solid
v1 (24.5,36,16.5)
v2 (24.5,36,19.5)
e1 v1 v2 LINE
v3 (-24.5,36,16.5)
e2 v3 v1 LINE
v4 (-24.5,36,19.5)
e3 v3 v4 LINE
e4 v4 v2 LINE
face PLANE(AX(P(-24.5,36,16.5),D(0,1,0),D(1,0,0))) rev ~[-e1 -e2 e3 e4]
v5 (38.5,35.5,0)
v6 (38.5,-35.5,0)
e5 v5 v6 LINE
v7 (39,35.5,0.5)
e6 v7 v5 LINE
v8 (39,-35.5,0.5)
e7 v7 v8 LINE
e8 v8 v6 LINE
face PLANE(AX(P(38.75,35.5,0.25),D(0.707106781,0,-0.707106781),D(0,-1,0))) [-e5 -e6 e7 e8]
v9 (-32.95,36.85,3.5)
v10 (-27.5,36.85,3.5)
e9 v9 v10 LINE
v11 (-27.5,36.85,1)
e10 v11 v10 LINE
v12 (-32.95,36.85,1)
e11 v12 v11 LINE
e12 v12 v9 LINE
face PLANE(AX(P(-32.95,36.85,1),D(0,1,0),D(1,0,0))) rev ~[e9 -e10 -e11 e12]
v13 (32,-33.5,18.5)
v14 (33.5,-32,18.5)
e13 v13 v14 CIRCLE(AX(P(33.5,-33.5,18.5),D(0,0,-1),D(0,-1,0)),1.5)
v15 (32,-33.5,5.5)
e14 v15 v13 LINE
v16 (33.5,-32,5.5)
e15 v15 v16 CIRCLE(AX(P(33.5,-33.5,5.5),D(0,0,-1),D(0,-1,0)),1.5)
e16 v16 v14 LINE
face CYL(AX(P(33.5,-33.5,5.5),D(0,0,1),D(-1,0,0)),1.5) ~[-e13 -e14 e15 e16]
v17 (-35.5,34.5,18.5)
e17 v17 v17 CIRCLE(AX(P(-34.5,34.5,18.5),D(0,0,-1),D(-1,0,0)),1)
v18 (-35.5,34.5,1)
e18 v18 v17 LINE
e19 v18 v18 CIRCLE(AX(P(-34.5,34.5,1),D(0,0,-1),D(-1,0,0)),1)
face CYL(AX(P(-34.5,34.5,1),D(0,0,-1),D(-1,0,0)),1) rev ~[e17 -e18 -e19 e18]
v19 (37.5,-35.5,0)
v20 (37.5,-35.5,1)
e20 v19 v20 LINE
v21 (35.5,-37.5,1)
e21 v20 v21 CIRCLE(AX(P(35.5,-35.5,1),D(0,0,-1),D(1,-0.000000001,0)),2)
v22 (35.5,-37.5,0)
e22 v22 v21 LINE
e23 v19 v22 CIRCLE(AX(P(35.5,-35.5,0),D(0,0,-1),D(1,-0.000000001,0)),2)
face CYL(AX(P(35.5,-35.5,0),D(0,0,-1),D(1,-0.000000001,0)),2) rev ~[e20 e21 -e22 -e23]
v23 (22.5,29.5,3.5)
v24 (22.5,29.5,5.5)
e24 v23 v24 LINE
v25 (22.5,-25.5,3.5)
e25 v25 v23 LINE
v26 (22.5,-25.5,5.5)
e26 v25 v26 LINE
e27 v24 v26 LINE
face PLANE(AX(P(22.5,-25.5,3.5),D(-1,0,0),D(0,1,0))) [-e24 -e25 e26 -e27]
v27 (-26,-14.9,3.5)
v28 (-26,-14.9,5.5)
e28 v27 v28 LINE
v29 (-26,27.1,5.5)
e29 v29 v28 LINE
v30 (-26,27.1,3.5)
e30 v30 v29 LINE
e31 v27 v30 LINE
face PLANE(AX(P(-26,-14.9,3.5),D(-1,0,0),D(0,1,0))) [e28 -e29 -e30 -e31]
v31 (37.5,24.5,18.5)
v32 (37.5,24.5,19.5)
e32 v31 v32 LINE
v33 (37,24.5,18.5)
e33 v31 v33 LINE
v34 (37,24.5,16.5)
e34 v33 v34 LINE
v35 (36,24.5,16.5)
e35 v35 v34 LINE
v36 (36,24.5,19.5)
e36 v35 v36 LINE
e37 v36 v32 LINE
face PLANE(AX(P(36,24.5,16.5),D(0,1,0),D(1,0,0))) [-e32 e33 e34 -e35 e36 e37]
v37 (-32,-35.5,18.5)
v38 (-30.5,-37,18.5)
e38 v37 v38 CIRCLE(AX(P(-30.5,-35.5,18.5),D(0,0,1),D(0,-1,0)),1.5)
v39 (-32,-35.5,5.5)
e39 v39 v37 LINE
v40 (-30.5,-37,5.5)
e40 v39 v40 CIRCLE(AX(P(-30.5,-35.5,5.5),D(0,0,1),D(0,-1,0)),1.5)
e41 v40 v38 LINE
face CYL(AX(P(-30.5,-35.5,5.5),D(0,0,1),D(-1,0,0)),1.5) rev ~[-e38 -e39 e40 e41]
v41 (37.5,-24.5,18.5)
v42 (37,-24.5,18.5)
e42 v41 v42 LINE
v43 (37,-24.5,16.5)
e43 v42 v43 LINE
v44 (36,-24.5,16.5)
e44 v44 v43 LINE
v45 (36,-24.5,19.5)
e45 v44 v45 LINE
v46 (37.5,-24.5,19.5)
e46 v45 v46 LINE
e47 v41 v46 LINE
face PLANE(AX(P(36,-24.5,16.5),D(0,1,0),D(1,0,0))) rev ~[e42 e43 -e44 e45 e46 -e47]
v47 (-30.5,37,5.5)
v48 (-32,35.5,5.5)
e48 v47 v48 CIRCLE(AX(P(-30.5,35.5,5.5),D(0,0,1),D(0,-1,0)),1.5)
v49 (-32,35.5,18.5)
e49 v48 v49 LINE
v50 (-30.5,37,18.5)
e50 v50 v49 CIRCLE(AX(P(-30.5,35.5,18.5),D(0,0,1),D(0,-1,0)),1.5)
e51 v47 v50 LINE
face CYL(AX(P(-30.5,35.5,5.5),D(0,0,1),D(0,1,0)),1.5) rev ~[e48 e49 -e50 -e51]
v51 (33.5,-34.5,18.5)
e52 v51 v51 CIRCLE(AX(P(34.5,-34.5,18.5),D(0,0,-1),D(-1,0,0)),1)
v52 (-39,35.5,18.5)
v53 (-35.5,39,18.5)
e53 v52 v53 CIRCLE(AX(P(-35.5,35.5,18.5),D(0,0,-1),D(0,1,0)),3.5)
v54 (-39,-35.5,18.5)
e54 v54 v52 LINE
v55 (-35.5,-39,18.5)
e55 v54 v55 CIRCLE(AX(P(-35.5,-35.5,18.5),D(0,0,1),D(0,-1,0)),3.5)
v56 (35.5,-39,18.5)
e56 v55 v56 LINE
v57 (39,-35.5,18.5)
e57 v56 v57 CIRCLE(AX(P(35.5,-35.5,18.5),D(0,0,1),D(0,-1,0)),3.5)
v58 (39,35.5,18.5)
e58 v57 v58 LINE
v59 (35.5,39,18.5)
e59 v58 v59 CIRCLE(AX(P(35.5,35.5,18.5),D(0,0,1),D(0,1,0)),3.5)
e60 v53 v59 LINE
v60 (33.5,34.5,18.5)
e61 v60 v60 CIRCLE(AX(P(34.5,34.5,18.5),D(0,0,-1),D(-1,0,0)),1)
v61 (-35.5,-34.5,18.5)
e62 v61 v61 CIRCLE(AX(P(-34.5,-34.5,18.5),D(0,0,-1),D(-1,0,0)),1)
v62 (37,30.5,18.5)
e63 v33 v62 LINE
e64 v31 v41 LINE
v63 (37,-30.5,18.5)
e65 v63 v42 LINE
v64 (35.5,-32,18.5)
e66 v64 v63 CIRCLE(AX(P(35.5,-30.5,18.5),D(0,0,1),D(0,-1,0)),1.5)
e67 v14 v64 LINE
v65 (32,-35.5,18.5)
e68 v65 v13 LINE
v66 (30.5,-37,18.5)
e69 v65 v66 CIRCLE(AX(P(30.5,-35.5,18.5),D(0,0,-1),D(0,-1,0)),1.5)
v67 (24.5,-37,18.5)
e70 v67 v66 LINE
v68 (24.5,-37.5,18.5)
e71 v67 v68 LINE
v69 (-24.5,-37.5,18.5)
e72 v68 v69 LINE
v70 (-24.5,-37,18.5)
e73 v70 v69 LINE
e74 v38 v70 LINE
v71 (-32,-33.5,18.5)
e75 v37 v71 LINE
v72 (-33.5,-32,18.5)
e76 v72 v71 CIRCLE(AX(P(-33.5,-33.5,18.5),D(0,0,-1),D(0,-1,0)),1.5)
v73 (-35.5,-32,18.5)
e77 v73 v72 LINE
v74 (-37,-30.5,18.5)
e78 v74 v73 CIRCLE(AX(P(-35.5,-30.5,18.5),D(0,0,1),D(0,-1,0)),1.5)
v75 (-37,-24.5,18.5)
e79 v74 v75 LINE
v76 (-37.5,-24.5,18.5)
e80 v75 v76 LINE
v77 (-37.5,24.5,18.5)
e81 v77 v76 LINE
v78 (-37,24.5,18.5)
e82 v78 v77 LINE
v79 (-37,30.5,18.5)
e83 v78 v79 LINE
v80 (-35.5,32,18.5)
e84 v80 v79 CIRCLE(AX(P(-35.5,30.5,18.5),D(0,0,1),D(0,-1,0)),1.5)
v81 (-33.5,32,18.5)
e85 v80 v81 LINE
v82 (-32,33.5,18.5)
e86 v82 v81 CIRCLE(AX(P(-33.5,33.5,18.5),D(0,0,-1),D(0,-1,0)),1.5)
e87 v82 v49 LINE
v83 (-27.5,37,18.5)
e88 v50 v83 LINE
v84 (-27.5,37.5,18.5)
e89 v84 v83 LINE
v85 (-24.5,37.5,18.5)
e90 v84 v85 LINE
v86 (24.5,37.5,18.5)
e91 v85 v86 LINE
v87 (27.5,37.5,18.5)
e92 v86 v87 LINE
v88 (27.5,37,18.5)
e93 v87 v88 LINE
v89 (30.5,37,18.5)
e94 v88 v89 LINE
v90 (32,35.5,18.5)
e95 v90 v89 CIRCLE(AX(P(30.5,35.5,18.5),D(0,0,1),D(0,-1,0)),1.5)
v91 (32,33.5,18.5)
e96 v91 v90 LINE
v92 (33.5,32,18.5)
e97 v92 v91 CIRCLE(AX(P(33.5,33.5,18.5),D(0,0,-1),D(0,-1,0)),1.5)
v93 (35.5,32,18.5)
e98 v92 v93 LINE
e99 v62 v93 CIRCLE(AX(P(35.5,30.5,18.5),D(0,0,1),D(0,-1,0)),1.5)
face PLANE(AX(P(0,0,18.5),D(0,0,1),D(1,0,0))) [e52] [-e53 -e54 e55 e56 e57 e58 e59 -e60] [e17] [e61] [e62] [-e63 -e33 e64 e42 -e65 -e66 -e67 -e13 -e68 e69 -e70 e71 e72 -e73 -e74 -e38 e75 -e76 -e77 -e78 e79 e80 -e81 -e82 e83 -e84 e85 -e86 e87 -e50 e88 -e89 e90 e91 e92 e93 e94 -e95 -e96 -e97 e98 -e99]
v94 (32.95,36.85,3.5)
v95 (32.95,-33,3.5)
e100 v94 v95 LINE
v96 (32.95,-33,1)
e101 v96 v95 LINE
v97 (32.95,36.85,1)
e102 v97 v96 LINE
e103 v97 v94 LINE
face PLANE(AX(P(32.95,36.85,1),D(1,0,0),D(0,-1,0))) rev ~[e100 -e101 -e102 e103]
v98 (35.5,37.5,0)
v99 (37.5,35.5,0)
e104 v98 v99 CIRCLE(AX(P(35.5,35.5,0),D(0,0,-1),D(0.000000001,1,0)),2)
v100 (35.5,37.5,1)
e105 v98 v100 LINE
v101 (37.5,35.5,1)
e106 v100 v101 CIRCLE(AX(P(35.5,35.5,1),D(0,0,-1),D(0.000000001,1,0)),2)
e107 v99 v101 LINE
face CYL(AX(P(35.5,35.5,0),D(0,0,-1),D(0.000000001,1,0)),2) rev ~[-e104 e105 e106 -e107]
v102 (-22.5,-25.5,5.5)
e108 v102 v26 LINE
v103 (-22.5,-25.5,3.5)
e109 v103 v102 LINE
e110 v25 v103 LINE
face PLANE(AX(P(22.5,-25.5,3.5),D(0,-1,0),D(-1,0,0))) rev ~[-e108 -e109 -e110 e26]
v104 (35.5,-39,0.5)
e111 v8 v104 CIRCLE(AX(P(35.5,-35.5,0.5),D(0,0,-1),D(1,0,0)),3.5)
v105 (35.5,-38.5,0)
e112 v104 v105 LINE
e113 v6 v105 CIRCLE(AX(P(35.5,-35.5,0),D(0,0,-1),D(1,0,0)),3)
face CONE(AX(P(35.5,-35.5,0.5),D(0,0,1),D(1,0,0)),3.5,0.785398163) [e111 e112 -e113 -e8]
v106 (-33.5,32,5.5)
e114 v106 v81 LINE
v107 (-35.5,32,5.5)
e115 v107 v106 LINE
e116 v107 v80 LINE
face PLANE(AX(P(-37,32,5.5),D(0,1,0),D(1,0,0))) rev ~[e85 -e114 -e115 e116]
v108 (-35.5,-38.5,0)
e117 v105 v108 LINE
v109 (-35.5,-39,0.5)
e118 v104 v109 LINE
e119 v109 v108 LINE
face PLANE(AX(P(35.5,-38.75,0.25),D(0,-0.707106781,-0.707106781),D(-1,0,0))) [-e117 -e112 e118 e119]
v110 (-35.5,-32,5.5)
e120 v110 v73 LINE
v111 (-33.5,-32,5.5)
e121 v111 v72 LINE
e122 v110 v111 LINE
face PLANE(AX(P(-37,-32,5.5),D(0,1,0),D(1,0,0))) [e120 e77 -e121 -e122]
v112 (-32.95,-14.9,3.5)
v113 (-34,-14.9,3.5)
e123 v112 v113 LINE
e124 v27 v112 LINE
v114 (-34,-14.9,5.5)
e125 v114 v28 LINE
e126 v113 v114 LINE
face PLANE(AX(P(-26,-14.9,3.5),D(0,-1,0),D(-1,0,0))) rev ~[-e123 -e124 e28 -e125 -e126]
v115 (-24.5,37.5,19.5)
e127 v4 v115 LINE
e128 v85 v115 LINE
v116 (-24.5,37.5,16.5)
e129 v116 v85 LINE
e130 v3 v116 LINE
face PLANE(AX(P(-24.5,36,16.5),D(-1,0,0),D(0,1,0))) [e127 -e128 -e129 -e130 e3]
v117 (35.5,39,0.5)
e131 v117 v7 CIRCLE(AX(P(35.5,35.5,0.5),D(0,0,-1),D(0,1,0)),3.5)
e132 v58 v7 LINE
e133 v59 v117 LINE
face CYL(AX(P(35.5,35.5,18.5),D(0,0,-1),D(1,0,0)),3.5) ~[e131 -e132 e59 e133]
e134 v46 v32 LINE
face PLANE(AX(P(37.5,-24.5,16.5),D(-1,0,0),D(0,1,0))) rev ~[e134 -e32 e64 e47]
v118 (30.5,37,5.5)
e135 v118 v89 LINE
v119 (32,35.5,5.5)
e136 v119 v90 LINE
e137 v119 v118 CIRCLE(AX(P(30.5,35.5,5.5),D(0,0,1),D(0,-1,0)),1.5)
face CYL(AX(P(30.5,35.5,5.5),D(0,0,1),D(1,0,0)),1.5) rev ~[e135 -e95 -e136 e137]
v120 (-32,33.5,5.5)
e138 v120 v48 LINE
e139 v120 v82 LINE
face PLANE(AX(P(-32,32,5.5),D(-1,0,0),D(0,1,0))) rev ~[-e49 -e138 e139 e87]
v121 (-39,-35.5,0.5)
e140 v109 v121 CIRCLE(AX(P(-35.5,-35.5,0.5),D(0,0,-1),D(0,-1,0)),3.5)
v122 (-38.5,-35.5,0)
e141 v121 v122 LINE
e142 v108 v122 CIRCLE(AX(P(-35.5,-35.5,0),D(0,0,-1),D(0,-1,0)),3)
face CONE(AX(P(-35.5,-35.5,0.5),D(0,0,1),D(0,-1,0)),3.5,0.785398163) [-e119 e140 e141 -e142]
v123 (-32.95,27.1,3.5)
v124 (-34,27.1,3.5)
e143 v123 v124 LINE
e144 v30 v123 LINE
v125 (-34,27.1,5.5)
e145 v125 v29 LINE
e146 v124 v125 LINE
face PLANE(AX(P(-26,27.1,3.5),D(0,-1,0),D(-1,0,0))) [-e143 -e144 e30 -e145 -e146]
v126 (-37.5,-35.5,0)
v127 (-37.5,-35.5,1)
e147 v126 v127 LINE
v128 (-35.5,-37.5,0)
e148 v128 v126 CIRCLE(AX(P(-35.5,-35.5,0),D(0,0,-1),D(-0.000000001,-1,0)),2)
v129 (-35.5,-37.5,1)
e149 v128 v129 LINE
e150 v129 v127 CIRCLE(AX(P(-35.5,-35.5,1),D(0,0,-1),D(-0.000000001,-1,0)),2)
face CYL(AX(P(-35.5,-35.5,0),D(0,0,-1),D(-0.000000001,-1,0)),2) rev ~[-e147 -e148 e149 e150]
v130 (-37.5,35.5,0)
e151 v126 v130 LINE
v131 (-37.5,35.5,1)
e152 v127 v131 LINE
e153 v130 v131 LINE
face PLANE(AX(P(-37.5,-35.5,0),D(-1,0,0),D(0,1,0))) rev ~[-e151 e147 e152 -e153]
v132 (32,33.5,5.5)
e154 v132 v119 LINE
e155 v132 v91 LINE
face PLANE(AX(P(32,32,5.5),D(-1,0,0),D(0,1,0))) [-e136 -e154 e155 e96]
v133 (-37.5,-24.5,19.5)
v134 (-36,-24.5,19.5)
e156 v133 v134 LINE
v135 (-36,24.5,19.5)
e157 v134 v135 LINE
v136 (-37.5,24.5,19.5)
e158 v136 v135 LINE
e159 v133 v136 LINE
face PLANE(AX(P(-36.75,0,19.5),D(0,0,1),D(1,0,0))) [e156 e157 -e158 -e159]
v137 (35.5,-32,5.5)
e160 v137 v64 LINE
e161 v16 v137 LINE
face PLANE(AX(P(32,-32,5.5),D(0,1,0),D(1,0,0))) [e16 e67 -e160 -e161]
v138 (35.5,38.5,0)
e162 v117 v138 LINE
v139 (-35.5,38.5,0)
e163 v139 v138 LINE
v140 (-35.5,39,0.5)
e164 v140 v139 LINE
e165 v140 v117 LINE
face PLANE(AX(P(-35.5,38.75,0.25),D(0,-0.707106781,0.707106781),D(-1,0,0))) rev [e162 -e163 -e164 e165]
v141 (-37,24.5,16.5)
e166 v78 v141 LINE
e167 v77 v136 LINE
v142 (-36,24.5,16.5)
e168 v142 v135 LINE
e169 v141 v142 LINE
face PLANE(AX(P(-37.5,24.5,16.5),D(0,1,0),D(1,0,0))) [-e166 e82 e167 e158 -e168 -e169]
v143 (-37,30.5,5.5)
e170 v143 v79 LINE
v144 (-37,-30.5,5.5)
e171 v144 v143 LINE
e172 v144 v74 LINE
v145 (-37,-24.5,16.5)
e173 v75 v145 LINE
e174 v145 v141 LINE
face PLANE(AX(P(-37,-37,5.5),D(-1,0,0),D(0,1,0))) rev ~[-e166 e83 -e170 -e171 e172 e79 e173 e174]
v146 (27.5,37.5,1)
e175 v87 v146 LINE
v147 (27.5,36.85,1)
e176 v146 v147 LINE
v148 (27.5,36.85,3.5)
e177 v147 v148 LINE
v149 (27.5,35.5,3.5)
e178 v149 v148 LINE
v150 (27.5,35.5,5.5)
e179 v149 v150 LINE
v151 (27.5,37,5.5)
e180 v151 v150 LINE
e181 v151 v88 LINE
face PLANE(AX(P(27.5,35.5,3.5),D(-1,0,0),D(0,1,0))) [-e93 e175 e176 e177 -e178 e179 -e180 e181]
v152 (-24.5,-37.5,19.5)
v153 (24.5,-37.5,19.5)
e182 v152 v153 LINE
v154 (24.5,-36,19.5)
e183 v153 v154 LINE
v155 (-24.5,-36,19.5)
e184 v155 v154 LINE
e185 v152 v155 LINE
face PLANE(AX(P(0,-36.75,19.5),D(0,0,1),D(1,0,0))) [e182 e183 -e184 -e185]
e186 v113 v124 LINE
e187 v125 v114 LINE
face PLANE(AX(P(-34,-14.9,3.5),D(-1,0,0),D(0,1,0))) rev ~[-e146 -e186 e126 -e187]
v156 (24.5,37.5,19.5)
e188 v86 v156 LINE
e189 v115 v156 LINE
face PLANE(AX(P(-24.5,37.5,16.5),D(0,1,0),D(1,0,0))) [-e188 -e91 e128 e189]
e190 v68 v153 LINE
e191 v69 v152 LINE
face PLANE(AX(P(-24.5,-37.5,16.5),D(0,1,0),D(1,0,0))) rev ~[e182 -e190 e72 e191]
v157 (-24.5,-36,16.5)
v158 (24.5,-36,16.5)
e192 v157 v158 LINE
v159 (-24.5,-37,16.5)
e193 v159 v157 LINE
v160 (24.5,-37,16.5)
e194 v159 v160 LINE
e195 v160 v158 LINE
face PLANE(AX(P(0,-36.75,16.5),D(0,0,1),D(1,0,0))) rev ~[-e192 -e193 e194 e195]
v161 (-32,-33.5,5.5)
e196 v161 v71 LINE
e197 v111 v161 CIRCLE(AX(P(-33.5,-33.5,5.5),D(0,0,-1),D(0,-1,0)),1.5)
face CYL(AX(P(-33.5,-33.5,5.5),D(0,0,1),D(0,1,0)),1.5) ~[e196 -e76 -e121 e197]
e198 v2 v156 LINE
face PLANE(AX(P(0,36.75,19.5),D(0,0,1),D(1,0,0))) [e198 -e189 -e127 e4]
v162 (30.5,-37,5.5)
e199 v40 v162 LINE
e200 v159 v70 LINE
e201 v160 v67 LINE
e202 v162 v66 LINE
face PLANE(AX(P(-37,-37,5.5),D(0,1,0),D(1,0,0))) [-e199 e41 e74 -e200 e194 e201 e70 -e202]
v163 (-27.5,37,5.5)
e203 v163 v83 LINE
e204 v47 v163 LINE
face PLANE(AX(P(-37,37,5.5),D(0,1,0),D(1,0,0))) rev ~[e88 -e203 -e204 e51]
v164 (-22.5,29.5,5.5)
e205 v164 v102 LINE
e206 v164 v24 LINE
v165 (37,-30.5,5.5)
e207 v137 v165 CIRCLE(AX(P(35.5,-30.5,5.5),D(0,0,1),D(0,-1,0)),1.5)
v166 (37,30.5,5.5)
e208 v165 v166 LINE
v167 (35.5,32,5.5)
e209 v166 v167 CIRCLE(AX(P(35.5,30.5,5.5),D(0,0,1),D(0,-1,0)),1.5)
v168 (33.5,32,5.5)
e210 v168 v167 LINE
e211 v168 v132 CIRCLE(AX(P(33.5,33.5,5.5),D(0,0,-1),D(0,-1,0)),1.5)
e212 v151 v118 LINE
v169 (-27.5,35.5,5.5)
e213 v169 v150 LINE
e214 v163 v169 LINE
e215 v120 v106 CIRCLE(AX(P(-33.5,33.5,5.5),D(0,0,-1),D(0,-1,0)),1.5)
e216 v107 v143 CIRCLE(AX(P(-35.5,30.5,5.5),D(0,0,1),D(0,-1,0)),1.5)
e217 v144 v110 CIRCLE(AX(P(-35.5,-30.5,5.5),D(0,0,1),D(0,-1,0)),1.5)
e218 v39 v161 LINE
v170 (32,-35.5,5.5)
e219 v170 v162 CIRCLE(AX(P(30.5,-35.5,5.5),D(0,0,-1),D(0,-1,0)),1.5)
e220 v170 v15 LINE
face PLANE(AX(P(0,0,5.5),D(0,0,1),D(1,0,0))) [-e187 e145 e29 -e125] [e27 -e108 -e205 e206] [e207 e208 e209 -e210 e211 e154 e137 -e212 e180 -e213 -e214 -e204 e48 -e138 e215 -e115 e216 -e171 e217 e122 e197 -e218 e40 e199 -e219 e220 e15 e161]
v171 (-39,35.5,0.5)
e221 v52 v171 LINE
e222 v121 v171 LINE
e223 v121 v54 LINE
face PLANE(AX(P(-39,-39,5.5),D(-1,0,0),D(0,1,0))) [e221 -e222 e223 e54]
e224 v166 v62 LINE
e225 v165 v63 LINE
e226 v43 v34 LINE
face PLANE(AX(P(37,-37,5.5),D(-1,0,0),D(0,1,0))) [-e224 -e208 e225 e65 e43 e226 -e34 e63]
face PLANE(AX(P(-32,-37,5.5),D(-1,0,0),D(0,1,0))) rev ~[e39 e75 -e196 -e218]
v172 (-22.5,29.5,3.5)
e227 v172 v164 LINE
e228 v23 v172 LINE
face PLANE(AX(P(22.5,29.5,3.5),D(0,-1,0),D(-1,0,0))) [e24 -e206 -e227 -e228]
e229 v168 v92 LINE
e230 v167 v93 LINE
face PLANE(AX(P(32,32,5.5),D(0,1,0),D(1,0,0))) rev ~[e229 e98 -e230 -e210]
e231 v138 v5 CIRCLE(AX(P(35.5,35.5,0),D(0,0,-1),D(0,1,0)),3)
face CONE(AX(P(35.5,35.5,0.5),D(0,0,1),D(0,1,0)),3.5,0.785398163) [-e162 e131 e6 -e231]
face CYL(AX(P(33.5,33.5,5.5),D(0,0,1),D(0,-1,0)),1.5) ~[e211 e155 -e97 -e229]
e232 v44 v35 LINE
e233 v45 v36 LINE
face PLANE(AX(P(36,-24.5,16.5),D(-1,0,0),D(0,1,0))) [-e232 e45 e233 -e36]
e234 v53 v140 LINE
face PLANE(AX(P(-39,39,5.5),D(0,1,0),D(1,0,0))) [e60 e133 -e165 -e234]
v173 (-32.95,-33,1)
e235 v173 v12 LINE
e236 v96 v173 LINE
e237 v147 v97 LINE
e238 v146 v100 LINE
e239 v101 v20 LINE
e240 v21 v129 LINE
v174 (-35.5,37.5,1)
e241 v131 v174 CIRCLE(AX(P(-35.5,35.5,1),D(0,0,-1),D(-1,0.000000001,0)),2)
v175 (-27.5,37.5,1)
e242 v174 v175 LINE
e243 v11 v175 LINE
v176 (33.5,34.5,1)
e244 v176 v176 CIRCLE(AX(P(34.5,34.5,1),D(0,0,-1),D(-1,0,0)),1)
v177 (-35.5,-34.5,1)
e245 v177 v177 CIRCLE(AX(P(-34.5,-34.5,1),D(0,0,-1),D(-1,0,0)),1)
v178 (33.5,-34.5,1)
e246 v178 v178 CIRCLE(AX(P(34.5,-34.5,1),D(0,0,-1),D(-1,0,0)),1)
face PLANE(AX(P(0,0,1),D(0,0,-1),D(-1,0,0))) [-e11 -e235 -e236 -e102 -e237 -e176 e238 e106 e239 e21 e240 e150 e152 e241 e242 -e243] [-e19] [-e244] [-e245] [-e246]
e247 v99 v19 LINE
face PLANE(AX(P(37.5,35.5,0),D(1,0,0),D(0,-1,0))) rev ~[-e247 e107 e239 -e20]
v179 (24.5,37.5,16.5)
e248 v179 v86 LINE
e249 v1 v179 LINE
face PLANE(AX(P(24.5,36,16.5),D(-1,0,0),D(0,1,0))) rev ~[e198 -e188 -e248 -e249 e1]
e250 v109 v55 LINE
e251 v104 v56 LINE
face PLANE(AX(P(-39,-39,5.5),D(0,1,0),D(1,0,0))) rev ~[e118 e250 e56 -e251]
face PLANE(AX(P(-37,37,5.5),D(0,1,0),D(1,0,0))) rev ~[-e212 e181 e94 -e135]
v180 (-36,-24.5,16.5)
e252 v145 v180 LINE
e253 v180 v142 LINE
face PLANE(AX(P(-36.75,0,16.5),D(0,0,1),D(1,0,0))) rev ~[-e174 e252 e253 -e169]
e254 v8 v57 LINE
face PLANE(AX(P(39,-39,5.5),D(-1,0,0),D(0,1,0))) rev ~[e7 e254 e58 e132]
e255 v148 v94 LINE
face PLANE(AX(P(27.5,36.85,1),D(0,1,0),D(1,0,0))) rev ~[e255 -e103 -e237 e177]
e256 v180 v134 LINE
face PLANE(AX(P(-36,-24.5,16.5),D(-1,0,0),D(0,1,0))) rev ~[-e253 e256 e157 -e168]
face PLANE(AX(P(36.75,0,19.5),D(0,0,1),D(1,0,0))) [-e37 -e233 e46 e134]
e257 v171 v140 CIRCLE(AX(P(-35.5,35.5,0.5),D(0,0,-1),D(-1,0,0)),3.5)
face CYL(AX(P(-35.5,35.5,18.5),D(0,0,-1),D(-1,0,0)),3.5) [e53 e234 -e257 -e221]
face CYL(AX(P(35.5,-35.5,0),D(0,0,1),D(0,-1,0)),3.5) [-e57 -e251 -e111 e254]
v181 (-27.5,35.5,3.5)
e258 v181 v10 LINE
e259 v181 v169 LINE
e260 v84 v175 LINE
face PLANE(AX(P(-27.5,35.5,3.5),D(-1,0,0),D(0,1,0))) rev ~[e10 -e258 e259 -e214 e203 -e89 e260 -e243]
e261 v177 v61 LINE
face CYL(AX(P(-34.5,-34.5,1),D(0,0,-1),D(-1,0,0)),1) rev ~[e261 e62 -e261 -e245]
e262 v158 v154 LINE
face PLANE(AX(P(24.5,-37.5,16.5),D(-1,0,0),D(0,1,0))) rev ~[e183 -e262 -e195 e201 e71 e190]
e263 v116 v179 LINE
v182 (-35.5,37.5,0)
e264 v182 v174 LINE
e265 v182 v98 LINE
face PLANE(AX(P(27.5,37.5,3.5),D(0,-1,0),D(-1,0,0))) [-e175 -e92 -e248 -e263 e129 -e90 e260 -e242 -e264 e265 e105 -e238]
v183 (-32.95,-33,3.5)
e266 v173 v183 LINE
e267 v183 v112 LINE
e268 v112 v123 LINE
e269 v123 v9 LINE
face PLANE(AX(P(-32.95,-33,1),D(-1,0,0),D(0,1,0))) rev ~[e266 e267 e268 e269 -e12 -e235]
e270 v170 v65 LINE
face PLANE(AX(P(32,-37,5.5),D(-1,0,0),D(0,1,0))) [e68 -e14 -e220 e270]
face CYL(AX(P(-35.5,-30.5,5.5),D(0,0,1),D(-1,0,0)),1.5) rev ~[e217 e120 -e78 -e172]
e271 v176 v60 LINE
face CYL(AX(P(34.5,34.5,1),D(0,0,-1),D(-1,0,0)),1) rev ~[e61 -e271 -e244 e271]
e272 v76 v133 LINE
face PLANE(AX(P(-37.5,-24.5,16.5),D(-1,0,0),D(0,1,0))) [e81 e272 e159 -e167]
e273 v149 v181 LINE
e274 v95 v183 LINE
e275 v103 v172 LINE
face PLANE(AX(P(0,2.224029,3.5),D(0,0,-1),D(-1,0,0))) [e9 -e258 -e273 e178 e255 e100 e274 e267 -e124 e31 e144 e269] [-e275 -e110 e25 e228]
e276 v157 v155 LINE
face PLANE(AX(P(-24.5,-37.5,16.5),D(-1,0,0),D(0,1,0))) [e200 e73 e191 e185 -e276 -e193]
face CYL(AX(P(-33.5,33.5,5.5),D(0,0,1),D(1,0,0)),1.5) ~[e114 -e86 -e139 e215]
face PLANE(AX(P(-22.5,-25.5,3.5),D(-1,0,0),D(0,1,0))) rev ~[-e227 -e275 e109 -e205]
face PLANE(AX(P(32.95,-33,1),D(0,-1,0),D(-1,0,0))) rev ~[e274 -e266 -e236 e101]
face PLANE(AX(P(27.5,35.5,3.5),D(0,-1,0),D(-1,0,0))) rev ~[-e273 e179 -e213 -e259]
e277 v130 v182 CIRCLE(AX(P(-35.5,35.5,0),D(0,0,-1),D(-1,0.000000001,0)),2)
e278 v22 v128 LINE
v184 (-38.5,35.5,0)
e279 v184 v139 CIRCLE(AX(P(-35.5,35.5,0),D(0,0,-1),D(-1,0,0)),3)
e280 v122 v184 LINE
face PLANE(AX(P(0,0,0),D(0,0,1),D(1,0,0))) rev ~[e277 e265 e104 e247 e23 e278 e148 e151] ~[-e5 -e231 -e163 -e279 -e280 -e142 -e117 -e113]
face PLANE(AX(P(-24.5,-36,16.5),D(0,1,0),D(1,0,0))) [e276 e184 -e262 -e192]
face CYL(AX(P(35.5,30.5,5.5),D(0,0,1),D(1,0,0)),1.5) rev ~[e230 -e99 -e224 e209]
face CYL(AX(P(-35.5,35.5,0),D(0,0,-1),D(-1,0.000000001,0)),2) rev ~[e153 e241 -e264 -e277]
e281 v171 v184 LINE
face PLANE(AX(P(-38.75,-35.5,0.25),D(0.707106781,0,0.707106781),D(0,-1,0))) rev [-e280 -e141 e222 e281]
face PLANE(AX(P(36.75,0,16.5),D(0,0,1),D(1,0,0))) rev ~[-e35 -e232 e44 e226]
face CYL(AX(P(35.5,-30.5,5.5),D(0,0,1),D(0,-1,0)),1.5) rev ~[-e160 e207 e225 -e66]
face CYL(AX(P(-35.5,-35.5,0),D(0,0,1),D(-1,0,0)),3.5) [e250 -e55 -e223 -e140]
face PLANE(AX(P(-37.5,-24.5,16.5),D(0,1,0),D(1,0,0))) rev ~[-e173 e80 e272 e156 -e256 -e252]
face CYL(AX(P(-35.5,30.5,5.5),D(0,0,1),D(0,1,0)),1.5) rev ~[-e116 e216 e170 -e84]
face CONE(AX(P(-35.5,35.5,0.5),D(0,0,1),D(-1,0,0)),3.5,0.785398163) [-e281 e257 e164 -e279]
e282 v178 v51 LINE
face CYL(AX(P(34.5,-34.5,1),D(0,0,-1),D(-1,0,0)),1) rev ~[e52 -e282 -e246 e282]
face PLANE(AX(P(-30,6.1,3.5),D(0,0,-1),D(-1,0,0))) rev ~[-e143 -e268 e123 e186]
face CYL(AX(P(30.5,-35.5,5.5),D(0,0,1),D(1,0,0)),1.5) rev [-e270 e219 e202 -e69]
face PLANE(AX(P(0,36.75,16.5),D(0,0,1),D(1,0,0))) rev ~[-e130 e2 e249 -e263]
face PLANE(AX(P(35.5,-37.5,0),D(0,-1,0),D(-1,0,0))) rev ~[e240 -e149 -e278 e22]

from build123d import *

# Parameters (mm, degrees)
SKETCH_1_W           = 78
SKETCH_1_H           = 78
EXTRUDE_1_DEPTH      = 5.5
SKETCH_2_W           = 78
SKETCH_2_H           = 78
SKETCH_2_W_2         = 74
SKETCH_2_H_2         = 74
SKETCH_2_W_3         = 5
SKETCH_2_H_3         = 5
EXTRUDE_2_DEPTH      = 13
FILLET_1_R           = 1.5
FILLET_2_R           = 3.5
CUT_EXTRUDE_1_DEPTH  = 1
CUT_EXTRUDE_2_DEPTH  = 2.5
SKETCH_5_R           = 1
CUT_EXTRUDE_3_DEPTH  = 58.864064842
CHAMFER_1_SIZE       = 0.5
SKETCH_6_W           = 55
SKETCH_6_H           = 2
SKETCH_6_W_2         = 45
SKETCH_6_H_2         = 55
SKETCH_6_W_3         = 8
SKETCH_6_H_3         = 42
CUT_EXTRUDE_4_DEPTH  = 58.15767665
EXTRUDE_3_DEPTH      = 1
EXTRUDE_3_DEPTH_BACK = 2
SKETCH_7_W           = 49
SKETCH_7_H           = 1.5
SKETCH_7_W_2         = 1.5
SKETCH_7_H_2         = 49


with BuildPart() as part:
    # 草图1 → 凸台-拉伸1 (new body)
    with BuildSketch(Plane.XY):
        Rectangle(SKETCH_1_W, SKETCH_1_H)
    extrude(amount=EXTRUDE_1_DEPTH)

    # 草图2 → 凸台-拉伸2 (add)
    # profile 1 of 5: a face of its own
    with BuildSketch(Plane.XY.offset(5.5)):
        Rectangle(SKETCH_2_W, SKETCH_2_H)
        Rectangle(SKETCH_2_W_2, SKETCH_2_H_2, mode=Mode.SUBTRACT)
    # profile 2 of 5: a face of its own
    with BuildSketch(Plane.XY.offset(5.5)):
        with Locations((-34.5, 34.5)):
            Rectangle(SKETCH_2_W_3, SKETCH_2_H_3)
    # profile 3 of 5: a face of its own
    with BuildSketch(Plane.XY.offset(5.5)):
        with Locations((34.5, 34.5)):
            Rectangle(SKETCH_2_W_3, SKETCH_2_H_3)
    # profile 4 of 5: a face of its own
    with BuildSketch(Plane.XY.offset(5.5)):
        with Locations((34.5, -34.5)):
            Rectangle(SKETCH_2_W_3, SKETCH_2_H_3)
    # profile 5 of 5: a face of its own
    with BuildSketch(Plane.XY.offset(5.5)):
        with Locations((-34.5, -34.5)):
            Rectangle(SKETCH_2_W_3, SKETCH_2_H_3)
    extrude(amount=EXTRUDE_2_DEPTH)

    # 圆角1
    fillet_1_edges = [part.edges().sort_by_distance(p)[0] for p in [
        (-37, -32, 12),
        (-37, 32, 12),
        (-32, 32, 12),
        (-32, 37, 12),
        (32, 37, 12),
        (32, 32, 12),
        (37, 32, 12),
        (37, -32, 12),
        (32, -32, 12),
        (32, -37, 12),
        (-32, -37, 12),
        (-32, -32, 12),
    ]]
    fillet(fillet_1_edges, radius=FILLET_1_R)

    # 圆角2
    fillet_2_edges = [part.edges().sort_by_distance(p)[0] for p in [
        (39, -39, 9.25),
        (-39, -39, 9.25),
        (-39, 39, 9.25),
        (39, 39, 9.25),
    ]]
    fillet(fillet_2_edges, radius=FILLET_2_R)

    # 草图3 → 切除-拉伸1 (cut)
    with BuildSketch(Plane(origin=(0, 0, 0), x_dir=(-1, 0, 0), z_dir=(0, 0, -1))):
        with BuildLine():
            Line((37.5, -35.5), (37.5, 35.5))
            ThreePointArc((37.5, 35.5), (36.914213562, 36.914213562), (35.5, 37.5))
            Line((35.5, 37.5), (-35.5, 37.5))
            ThreePointArc((-35.5, 37.5), (-36.914213562, 36.914213562), (-37.5, 35.5))
            Line((-37.5, 35.5), (-37.5, -35.5))
            ThreePointArc((-37.5, -35.5), (-36.914213562, -36.914213562), (-35.5, -37.5))
            Line((-35.5, -37.5), (35.5, -37.5))
            ThreePointArc((35.5, -37.5), (36.914213562, -36.914213562), (37.5, -35.5))
        make_face()
    extrude(amount=-CUT_EXTRUDE_1_DEPTH, mode=Mode.SUBTRACT)

    # 草图4 → 切除-拉伸2 (cut)
    with BuildSketch(Plane(origin=(0, 0, 1), x_dir=(-1, 0, 0), z_dir=(0, 0, -1))):
        Polygon((27.5, 37.5), (-27.5, 37.5), (-27.5, 36.85), (-32.95, 36.85), (-32.95, -33), (32.95, -33), (32.95, 36.85), (27.5, 36.85), align=None)
    extrude(amount=-CUT_EXTRUDE_2_DEPTH, mode=Mode.SUBTRACT)

    # 草图5 → 切除-拉伸3 (cut, through all)
    with BuildSketch(Plane(origin=(0, 0, 1), x_dir=(-1, 0, 0), z_dir=(0, 0, -1))):
        with Locations((-34.5, 34.5)):
            Circle(SKETCH_5_R)
        with Locations((34.5, 34.5)):
            Circle(SKETCH_5_R)
        with Locations((34.5, -34.5)):
            Circle(SKETCH_5_R)
        with Locations((-34.5, -34.5)):
            Circle(SKETCH_5_R)
    extrude(amount=-CUT_EXTRUDE_3_DEPTH, mode=Mode.SUBTRACT)

    # 倒角1
    chamfer_1_edges = [part.edges().sort_by_distance(p)[0] for p in [
        (-39, 0, 0),
        (39, 0, 0),
        (0, -39, 0),
        (0, 39, 0),
        (-37.974873734, -37.974873734, 0),
        (37.974873734, -37.974873734, 0),
        (37.974873734, 37.974873734, 0),
        (-37.974873734, 37.974873734, 0),
    ]]
    chamfer(chamfer_1_edges, length=CHAMFER_1_SIZE)

    # 草图6 → 切除-拉伸4 (cut, through all)
    with BuildSketch(Plane(origin=(0, 0, 3.5), x_dir=(-1, 0, 0), z_dir=(0, 0, -1))):
        with Locations((0, 36.5)):
            Rectangle(SKETCH_6_W, SKETCH_6_H)
        with Locations((0, 2)):
            Rectangle(SKETCH_6_W_2, SKETCH_6_H_2)
        with Locations((30, 6.1)):
            Rectangle(SKETCH_6_W_3, SKETCH_6_H_3)
    extrude(amount=-CUT_EXTRUDE_4_DEPTH, mode=Mode.SUBTRACT)

    # 草图7 → 凸台-拉伸3 (add, two sides: drawn at the far end of the back side and taken through both)
    with BuildSketch(Plane.XY.offset(18.5).offset(-EXTRUDE_3_DEPTH_BACK)):
        with Locations((0, 36.75)):
            Rectangle(SKETCH_7_W, SKETCH_7_H)
        with Locations((-36.75, 0)):
            Rectangle(SKETCH_7_W_2, SKETCH_7_H_2)
        with Locations((0, -36.75)):
            Rectangle(SKETCH_7_W, SKETCH_7_H)
        with Locations((36.75, 0)):
            Rectangle(SKETCH_7_W_2, SKETCH_7_H_2)
    extrude(amount=EXTRUDE_3_DEPTH + EXTRUDE_3_DEPTH_BACK)


solid = part.part
